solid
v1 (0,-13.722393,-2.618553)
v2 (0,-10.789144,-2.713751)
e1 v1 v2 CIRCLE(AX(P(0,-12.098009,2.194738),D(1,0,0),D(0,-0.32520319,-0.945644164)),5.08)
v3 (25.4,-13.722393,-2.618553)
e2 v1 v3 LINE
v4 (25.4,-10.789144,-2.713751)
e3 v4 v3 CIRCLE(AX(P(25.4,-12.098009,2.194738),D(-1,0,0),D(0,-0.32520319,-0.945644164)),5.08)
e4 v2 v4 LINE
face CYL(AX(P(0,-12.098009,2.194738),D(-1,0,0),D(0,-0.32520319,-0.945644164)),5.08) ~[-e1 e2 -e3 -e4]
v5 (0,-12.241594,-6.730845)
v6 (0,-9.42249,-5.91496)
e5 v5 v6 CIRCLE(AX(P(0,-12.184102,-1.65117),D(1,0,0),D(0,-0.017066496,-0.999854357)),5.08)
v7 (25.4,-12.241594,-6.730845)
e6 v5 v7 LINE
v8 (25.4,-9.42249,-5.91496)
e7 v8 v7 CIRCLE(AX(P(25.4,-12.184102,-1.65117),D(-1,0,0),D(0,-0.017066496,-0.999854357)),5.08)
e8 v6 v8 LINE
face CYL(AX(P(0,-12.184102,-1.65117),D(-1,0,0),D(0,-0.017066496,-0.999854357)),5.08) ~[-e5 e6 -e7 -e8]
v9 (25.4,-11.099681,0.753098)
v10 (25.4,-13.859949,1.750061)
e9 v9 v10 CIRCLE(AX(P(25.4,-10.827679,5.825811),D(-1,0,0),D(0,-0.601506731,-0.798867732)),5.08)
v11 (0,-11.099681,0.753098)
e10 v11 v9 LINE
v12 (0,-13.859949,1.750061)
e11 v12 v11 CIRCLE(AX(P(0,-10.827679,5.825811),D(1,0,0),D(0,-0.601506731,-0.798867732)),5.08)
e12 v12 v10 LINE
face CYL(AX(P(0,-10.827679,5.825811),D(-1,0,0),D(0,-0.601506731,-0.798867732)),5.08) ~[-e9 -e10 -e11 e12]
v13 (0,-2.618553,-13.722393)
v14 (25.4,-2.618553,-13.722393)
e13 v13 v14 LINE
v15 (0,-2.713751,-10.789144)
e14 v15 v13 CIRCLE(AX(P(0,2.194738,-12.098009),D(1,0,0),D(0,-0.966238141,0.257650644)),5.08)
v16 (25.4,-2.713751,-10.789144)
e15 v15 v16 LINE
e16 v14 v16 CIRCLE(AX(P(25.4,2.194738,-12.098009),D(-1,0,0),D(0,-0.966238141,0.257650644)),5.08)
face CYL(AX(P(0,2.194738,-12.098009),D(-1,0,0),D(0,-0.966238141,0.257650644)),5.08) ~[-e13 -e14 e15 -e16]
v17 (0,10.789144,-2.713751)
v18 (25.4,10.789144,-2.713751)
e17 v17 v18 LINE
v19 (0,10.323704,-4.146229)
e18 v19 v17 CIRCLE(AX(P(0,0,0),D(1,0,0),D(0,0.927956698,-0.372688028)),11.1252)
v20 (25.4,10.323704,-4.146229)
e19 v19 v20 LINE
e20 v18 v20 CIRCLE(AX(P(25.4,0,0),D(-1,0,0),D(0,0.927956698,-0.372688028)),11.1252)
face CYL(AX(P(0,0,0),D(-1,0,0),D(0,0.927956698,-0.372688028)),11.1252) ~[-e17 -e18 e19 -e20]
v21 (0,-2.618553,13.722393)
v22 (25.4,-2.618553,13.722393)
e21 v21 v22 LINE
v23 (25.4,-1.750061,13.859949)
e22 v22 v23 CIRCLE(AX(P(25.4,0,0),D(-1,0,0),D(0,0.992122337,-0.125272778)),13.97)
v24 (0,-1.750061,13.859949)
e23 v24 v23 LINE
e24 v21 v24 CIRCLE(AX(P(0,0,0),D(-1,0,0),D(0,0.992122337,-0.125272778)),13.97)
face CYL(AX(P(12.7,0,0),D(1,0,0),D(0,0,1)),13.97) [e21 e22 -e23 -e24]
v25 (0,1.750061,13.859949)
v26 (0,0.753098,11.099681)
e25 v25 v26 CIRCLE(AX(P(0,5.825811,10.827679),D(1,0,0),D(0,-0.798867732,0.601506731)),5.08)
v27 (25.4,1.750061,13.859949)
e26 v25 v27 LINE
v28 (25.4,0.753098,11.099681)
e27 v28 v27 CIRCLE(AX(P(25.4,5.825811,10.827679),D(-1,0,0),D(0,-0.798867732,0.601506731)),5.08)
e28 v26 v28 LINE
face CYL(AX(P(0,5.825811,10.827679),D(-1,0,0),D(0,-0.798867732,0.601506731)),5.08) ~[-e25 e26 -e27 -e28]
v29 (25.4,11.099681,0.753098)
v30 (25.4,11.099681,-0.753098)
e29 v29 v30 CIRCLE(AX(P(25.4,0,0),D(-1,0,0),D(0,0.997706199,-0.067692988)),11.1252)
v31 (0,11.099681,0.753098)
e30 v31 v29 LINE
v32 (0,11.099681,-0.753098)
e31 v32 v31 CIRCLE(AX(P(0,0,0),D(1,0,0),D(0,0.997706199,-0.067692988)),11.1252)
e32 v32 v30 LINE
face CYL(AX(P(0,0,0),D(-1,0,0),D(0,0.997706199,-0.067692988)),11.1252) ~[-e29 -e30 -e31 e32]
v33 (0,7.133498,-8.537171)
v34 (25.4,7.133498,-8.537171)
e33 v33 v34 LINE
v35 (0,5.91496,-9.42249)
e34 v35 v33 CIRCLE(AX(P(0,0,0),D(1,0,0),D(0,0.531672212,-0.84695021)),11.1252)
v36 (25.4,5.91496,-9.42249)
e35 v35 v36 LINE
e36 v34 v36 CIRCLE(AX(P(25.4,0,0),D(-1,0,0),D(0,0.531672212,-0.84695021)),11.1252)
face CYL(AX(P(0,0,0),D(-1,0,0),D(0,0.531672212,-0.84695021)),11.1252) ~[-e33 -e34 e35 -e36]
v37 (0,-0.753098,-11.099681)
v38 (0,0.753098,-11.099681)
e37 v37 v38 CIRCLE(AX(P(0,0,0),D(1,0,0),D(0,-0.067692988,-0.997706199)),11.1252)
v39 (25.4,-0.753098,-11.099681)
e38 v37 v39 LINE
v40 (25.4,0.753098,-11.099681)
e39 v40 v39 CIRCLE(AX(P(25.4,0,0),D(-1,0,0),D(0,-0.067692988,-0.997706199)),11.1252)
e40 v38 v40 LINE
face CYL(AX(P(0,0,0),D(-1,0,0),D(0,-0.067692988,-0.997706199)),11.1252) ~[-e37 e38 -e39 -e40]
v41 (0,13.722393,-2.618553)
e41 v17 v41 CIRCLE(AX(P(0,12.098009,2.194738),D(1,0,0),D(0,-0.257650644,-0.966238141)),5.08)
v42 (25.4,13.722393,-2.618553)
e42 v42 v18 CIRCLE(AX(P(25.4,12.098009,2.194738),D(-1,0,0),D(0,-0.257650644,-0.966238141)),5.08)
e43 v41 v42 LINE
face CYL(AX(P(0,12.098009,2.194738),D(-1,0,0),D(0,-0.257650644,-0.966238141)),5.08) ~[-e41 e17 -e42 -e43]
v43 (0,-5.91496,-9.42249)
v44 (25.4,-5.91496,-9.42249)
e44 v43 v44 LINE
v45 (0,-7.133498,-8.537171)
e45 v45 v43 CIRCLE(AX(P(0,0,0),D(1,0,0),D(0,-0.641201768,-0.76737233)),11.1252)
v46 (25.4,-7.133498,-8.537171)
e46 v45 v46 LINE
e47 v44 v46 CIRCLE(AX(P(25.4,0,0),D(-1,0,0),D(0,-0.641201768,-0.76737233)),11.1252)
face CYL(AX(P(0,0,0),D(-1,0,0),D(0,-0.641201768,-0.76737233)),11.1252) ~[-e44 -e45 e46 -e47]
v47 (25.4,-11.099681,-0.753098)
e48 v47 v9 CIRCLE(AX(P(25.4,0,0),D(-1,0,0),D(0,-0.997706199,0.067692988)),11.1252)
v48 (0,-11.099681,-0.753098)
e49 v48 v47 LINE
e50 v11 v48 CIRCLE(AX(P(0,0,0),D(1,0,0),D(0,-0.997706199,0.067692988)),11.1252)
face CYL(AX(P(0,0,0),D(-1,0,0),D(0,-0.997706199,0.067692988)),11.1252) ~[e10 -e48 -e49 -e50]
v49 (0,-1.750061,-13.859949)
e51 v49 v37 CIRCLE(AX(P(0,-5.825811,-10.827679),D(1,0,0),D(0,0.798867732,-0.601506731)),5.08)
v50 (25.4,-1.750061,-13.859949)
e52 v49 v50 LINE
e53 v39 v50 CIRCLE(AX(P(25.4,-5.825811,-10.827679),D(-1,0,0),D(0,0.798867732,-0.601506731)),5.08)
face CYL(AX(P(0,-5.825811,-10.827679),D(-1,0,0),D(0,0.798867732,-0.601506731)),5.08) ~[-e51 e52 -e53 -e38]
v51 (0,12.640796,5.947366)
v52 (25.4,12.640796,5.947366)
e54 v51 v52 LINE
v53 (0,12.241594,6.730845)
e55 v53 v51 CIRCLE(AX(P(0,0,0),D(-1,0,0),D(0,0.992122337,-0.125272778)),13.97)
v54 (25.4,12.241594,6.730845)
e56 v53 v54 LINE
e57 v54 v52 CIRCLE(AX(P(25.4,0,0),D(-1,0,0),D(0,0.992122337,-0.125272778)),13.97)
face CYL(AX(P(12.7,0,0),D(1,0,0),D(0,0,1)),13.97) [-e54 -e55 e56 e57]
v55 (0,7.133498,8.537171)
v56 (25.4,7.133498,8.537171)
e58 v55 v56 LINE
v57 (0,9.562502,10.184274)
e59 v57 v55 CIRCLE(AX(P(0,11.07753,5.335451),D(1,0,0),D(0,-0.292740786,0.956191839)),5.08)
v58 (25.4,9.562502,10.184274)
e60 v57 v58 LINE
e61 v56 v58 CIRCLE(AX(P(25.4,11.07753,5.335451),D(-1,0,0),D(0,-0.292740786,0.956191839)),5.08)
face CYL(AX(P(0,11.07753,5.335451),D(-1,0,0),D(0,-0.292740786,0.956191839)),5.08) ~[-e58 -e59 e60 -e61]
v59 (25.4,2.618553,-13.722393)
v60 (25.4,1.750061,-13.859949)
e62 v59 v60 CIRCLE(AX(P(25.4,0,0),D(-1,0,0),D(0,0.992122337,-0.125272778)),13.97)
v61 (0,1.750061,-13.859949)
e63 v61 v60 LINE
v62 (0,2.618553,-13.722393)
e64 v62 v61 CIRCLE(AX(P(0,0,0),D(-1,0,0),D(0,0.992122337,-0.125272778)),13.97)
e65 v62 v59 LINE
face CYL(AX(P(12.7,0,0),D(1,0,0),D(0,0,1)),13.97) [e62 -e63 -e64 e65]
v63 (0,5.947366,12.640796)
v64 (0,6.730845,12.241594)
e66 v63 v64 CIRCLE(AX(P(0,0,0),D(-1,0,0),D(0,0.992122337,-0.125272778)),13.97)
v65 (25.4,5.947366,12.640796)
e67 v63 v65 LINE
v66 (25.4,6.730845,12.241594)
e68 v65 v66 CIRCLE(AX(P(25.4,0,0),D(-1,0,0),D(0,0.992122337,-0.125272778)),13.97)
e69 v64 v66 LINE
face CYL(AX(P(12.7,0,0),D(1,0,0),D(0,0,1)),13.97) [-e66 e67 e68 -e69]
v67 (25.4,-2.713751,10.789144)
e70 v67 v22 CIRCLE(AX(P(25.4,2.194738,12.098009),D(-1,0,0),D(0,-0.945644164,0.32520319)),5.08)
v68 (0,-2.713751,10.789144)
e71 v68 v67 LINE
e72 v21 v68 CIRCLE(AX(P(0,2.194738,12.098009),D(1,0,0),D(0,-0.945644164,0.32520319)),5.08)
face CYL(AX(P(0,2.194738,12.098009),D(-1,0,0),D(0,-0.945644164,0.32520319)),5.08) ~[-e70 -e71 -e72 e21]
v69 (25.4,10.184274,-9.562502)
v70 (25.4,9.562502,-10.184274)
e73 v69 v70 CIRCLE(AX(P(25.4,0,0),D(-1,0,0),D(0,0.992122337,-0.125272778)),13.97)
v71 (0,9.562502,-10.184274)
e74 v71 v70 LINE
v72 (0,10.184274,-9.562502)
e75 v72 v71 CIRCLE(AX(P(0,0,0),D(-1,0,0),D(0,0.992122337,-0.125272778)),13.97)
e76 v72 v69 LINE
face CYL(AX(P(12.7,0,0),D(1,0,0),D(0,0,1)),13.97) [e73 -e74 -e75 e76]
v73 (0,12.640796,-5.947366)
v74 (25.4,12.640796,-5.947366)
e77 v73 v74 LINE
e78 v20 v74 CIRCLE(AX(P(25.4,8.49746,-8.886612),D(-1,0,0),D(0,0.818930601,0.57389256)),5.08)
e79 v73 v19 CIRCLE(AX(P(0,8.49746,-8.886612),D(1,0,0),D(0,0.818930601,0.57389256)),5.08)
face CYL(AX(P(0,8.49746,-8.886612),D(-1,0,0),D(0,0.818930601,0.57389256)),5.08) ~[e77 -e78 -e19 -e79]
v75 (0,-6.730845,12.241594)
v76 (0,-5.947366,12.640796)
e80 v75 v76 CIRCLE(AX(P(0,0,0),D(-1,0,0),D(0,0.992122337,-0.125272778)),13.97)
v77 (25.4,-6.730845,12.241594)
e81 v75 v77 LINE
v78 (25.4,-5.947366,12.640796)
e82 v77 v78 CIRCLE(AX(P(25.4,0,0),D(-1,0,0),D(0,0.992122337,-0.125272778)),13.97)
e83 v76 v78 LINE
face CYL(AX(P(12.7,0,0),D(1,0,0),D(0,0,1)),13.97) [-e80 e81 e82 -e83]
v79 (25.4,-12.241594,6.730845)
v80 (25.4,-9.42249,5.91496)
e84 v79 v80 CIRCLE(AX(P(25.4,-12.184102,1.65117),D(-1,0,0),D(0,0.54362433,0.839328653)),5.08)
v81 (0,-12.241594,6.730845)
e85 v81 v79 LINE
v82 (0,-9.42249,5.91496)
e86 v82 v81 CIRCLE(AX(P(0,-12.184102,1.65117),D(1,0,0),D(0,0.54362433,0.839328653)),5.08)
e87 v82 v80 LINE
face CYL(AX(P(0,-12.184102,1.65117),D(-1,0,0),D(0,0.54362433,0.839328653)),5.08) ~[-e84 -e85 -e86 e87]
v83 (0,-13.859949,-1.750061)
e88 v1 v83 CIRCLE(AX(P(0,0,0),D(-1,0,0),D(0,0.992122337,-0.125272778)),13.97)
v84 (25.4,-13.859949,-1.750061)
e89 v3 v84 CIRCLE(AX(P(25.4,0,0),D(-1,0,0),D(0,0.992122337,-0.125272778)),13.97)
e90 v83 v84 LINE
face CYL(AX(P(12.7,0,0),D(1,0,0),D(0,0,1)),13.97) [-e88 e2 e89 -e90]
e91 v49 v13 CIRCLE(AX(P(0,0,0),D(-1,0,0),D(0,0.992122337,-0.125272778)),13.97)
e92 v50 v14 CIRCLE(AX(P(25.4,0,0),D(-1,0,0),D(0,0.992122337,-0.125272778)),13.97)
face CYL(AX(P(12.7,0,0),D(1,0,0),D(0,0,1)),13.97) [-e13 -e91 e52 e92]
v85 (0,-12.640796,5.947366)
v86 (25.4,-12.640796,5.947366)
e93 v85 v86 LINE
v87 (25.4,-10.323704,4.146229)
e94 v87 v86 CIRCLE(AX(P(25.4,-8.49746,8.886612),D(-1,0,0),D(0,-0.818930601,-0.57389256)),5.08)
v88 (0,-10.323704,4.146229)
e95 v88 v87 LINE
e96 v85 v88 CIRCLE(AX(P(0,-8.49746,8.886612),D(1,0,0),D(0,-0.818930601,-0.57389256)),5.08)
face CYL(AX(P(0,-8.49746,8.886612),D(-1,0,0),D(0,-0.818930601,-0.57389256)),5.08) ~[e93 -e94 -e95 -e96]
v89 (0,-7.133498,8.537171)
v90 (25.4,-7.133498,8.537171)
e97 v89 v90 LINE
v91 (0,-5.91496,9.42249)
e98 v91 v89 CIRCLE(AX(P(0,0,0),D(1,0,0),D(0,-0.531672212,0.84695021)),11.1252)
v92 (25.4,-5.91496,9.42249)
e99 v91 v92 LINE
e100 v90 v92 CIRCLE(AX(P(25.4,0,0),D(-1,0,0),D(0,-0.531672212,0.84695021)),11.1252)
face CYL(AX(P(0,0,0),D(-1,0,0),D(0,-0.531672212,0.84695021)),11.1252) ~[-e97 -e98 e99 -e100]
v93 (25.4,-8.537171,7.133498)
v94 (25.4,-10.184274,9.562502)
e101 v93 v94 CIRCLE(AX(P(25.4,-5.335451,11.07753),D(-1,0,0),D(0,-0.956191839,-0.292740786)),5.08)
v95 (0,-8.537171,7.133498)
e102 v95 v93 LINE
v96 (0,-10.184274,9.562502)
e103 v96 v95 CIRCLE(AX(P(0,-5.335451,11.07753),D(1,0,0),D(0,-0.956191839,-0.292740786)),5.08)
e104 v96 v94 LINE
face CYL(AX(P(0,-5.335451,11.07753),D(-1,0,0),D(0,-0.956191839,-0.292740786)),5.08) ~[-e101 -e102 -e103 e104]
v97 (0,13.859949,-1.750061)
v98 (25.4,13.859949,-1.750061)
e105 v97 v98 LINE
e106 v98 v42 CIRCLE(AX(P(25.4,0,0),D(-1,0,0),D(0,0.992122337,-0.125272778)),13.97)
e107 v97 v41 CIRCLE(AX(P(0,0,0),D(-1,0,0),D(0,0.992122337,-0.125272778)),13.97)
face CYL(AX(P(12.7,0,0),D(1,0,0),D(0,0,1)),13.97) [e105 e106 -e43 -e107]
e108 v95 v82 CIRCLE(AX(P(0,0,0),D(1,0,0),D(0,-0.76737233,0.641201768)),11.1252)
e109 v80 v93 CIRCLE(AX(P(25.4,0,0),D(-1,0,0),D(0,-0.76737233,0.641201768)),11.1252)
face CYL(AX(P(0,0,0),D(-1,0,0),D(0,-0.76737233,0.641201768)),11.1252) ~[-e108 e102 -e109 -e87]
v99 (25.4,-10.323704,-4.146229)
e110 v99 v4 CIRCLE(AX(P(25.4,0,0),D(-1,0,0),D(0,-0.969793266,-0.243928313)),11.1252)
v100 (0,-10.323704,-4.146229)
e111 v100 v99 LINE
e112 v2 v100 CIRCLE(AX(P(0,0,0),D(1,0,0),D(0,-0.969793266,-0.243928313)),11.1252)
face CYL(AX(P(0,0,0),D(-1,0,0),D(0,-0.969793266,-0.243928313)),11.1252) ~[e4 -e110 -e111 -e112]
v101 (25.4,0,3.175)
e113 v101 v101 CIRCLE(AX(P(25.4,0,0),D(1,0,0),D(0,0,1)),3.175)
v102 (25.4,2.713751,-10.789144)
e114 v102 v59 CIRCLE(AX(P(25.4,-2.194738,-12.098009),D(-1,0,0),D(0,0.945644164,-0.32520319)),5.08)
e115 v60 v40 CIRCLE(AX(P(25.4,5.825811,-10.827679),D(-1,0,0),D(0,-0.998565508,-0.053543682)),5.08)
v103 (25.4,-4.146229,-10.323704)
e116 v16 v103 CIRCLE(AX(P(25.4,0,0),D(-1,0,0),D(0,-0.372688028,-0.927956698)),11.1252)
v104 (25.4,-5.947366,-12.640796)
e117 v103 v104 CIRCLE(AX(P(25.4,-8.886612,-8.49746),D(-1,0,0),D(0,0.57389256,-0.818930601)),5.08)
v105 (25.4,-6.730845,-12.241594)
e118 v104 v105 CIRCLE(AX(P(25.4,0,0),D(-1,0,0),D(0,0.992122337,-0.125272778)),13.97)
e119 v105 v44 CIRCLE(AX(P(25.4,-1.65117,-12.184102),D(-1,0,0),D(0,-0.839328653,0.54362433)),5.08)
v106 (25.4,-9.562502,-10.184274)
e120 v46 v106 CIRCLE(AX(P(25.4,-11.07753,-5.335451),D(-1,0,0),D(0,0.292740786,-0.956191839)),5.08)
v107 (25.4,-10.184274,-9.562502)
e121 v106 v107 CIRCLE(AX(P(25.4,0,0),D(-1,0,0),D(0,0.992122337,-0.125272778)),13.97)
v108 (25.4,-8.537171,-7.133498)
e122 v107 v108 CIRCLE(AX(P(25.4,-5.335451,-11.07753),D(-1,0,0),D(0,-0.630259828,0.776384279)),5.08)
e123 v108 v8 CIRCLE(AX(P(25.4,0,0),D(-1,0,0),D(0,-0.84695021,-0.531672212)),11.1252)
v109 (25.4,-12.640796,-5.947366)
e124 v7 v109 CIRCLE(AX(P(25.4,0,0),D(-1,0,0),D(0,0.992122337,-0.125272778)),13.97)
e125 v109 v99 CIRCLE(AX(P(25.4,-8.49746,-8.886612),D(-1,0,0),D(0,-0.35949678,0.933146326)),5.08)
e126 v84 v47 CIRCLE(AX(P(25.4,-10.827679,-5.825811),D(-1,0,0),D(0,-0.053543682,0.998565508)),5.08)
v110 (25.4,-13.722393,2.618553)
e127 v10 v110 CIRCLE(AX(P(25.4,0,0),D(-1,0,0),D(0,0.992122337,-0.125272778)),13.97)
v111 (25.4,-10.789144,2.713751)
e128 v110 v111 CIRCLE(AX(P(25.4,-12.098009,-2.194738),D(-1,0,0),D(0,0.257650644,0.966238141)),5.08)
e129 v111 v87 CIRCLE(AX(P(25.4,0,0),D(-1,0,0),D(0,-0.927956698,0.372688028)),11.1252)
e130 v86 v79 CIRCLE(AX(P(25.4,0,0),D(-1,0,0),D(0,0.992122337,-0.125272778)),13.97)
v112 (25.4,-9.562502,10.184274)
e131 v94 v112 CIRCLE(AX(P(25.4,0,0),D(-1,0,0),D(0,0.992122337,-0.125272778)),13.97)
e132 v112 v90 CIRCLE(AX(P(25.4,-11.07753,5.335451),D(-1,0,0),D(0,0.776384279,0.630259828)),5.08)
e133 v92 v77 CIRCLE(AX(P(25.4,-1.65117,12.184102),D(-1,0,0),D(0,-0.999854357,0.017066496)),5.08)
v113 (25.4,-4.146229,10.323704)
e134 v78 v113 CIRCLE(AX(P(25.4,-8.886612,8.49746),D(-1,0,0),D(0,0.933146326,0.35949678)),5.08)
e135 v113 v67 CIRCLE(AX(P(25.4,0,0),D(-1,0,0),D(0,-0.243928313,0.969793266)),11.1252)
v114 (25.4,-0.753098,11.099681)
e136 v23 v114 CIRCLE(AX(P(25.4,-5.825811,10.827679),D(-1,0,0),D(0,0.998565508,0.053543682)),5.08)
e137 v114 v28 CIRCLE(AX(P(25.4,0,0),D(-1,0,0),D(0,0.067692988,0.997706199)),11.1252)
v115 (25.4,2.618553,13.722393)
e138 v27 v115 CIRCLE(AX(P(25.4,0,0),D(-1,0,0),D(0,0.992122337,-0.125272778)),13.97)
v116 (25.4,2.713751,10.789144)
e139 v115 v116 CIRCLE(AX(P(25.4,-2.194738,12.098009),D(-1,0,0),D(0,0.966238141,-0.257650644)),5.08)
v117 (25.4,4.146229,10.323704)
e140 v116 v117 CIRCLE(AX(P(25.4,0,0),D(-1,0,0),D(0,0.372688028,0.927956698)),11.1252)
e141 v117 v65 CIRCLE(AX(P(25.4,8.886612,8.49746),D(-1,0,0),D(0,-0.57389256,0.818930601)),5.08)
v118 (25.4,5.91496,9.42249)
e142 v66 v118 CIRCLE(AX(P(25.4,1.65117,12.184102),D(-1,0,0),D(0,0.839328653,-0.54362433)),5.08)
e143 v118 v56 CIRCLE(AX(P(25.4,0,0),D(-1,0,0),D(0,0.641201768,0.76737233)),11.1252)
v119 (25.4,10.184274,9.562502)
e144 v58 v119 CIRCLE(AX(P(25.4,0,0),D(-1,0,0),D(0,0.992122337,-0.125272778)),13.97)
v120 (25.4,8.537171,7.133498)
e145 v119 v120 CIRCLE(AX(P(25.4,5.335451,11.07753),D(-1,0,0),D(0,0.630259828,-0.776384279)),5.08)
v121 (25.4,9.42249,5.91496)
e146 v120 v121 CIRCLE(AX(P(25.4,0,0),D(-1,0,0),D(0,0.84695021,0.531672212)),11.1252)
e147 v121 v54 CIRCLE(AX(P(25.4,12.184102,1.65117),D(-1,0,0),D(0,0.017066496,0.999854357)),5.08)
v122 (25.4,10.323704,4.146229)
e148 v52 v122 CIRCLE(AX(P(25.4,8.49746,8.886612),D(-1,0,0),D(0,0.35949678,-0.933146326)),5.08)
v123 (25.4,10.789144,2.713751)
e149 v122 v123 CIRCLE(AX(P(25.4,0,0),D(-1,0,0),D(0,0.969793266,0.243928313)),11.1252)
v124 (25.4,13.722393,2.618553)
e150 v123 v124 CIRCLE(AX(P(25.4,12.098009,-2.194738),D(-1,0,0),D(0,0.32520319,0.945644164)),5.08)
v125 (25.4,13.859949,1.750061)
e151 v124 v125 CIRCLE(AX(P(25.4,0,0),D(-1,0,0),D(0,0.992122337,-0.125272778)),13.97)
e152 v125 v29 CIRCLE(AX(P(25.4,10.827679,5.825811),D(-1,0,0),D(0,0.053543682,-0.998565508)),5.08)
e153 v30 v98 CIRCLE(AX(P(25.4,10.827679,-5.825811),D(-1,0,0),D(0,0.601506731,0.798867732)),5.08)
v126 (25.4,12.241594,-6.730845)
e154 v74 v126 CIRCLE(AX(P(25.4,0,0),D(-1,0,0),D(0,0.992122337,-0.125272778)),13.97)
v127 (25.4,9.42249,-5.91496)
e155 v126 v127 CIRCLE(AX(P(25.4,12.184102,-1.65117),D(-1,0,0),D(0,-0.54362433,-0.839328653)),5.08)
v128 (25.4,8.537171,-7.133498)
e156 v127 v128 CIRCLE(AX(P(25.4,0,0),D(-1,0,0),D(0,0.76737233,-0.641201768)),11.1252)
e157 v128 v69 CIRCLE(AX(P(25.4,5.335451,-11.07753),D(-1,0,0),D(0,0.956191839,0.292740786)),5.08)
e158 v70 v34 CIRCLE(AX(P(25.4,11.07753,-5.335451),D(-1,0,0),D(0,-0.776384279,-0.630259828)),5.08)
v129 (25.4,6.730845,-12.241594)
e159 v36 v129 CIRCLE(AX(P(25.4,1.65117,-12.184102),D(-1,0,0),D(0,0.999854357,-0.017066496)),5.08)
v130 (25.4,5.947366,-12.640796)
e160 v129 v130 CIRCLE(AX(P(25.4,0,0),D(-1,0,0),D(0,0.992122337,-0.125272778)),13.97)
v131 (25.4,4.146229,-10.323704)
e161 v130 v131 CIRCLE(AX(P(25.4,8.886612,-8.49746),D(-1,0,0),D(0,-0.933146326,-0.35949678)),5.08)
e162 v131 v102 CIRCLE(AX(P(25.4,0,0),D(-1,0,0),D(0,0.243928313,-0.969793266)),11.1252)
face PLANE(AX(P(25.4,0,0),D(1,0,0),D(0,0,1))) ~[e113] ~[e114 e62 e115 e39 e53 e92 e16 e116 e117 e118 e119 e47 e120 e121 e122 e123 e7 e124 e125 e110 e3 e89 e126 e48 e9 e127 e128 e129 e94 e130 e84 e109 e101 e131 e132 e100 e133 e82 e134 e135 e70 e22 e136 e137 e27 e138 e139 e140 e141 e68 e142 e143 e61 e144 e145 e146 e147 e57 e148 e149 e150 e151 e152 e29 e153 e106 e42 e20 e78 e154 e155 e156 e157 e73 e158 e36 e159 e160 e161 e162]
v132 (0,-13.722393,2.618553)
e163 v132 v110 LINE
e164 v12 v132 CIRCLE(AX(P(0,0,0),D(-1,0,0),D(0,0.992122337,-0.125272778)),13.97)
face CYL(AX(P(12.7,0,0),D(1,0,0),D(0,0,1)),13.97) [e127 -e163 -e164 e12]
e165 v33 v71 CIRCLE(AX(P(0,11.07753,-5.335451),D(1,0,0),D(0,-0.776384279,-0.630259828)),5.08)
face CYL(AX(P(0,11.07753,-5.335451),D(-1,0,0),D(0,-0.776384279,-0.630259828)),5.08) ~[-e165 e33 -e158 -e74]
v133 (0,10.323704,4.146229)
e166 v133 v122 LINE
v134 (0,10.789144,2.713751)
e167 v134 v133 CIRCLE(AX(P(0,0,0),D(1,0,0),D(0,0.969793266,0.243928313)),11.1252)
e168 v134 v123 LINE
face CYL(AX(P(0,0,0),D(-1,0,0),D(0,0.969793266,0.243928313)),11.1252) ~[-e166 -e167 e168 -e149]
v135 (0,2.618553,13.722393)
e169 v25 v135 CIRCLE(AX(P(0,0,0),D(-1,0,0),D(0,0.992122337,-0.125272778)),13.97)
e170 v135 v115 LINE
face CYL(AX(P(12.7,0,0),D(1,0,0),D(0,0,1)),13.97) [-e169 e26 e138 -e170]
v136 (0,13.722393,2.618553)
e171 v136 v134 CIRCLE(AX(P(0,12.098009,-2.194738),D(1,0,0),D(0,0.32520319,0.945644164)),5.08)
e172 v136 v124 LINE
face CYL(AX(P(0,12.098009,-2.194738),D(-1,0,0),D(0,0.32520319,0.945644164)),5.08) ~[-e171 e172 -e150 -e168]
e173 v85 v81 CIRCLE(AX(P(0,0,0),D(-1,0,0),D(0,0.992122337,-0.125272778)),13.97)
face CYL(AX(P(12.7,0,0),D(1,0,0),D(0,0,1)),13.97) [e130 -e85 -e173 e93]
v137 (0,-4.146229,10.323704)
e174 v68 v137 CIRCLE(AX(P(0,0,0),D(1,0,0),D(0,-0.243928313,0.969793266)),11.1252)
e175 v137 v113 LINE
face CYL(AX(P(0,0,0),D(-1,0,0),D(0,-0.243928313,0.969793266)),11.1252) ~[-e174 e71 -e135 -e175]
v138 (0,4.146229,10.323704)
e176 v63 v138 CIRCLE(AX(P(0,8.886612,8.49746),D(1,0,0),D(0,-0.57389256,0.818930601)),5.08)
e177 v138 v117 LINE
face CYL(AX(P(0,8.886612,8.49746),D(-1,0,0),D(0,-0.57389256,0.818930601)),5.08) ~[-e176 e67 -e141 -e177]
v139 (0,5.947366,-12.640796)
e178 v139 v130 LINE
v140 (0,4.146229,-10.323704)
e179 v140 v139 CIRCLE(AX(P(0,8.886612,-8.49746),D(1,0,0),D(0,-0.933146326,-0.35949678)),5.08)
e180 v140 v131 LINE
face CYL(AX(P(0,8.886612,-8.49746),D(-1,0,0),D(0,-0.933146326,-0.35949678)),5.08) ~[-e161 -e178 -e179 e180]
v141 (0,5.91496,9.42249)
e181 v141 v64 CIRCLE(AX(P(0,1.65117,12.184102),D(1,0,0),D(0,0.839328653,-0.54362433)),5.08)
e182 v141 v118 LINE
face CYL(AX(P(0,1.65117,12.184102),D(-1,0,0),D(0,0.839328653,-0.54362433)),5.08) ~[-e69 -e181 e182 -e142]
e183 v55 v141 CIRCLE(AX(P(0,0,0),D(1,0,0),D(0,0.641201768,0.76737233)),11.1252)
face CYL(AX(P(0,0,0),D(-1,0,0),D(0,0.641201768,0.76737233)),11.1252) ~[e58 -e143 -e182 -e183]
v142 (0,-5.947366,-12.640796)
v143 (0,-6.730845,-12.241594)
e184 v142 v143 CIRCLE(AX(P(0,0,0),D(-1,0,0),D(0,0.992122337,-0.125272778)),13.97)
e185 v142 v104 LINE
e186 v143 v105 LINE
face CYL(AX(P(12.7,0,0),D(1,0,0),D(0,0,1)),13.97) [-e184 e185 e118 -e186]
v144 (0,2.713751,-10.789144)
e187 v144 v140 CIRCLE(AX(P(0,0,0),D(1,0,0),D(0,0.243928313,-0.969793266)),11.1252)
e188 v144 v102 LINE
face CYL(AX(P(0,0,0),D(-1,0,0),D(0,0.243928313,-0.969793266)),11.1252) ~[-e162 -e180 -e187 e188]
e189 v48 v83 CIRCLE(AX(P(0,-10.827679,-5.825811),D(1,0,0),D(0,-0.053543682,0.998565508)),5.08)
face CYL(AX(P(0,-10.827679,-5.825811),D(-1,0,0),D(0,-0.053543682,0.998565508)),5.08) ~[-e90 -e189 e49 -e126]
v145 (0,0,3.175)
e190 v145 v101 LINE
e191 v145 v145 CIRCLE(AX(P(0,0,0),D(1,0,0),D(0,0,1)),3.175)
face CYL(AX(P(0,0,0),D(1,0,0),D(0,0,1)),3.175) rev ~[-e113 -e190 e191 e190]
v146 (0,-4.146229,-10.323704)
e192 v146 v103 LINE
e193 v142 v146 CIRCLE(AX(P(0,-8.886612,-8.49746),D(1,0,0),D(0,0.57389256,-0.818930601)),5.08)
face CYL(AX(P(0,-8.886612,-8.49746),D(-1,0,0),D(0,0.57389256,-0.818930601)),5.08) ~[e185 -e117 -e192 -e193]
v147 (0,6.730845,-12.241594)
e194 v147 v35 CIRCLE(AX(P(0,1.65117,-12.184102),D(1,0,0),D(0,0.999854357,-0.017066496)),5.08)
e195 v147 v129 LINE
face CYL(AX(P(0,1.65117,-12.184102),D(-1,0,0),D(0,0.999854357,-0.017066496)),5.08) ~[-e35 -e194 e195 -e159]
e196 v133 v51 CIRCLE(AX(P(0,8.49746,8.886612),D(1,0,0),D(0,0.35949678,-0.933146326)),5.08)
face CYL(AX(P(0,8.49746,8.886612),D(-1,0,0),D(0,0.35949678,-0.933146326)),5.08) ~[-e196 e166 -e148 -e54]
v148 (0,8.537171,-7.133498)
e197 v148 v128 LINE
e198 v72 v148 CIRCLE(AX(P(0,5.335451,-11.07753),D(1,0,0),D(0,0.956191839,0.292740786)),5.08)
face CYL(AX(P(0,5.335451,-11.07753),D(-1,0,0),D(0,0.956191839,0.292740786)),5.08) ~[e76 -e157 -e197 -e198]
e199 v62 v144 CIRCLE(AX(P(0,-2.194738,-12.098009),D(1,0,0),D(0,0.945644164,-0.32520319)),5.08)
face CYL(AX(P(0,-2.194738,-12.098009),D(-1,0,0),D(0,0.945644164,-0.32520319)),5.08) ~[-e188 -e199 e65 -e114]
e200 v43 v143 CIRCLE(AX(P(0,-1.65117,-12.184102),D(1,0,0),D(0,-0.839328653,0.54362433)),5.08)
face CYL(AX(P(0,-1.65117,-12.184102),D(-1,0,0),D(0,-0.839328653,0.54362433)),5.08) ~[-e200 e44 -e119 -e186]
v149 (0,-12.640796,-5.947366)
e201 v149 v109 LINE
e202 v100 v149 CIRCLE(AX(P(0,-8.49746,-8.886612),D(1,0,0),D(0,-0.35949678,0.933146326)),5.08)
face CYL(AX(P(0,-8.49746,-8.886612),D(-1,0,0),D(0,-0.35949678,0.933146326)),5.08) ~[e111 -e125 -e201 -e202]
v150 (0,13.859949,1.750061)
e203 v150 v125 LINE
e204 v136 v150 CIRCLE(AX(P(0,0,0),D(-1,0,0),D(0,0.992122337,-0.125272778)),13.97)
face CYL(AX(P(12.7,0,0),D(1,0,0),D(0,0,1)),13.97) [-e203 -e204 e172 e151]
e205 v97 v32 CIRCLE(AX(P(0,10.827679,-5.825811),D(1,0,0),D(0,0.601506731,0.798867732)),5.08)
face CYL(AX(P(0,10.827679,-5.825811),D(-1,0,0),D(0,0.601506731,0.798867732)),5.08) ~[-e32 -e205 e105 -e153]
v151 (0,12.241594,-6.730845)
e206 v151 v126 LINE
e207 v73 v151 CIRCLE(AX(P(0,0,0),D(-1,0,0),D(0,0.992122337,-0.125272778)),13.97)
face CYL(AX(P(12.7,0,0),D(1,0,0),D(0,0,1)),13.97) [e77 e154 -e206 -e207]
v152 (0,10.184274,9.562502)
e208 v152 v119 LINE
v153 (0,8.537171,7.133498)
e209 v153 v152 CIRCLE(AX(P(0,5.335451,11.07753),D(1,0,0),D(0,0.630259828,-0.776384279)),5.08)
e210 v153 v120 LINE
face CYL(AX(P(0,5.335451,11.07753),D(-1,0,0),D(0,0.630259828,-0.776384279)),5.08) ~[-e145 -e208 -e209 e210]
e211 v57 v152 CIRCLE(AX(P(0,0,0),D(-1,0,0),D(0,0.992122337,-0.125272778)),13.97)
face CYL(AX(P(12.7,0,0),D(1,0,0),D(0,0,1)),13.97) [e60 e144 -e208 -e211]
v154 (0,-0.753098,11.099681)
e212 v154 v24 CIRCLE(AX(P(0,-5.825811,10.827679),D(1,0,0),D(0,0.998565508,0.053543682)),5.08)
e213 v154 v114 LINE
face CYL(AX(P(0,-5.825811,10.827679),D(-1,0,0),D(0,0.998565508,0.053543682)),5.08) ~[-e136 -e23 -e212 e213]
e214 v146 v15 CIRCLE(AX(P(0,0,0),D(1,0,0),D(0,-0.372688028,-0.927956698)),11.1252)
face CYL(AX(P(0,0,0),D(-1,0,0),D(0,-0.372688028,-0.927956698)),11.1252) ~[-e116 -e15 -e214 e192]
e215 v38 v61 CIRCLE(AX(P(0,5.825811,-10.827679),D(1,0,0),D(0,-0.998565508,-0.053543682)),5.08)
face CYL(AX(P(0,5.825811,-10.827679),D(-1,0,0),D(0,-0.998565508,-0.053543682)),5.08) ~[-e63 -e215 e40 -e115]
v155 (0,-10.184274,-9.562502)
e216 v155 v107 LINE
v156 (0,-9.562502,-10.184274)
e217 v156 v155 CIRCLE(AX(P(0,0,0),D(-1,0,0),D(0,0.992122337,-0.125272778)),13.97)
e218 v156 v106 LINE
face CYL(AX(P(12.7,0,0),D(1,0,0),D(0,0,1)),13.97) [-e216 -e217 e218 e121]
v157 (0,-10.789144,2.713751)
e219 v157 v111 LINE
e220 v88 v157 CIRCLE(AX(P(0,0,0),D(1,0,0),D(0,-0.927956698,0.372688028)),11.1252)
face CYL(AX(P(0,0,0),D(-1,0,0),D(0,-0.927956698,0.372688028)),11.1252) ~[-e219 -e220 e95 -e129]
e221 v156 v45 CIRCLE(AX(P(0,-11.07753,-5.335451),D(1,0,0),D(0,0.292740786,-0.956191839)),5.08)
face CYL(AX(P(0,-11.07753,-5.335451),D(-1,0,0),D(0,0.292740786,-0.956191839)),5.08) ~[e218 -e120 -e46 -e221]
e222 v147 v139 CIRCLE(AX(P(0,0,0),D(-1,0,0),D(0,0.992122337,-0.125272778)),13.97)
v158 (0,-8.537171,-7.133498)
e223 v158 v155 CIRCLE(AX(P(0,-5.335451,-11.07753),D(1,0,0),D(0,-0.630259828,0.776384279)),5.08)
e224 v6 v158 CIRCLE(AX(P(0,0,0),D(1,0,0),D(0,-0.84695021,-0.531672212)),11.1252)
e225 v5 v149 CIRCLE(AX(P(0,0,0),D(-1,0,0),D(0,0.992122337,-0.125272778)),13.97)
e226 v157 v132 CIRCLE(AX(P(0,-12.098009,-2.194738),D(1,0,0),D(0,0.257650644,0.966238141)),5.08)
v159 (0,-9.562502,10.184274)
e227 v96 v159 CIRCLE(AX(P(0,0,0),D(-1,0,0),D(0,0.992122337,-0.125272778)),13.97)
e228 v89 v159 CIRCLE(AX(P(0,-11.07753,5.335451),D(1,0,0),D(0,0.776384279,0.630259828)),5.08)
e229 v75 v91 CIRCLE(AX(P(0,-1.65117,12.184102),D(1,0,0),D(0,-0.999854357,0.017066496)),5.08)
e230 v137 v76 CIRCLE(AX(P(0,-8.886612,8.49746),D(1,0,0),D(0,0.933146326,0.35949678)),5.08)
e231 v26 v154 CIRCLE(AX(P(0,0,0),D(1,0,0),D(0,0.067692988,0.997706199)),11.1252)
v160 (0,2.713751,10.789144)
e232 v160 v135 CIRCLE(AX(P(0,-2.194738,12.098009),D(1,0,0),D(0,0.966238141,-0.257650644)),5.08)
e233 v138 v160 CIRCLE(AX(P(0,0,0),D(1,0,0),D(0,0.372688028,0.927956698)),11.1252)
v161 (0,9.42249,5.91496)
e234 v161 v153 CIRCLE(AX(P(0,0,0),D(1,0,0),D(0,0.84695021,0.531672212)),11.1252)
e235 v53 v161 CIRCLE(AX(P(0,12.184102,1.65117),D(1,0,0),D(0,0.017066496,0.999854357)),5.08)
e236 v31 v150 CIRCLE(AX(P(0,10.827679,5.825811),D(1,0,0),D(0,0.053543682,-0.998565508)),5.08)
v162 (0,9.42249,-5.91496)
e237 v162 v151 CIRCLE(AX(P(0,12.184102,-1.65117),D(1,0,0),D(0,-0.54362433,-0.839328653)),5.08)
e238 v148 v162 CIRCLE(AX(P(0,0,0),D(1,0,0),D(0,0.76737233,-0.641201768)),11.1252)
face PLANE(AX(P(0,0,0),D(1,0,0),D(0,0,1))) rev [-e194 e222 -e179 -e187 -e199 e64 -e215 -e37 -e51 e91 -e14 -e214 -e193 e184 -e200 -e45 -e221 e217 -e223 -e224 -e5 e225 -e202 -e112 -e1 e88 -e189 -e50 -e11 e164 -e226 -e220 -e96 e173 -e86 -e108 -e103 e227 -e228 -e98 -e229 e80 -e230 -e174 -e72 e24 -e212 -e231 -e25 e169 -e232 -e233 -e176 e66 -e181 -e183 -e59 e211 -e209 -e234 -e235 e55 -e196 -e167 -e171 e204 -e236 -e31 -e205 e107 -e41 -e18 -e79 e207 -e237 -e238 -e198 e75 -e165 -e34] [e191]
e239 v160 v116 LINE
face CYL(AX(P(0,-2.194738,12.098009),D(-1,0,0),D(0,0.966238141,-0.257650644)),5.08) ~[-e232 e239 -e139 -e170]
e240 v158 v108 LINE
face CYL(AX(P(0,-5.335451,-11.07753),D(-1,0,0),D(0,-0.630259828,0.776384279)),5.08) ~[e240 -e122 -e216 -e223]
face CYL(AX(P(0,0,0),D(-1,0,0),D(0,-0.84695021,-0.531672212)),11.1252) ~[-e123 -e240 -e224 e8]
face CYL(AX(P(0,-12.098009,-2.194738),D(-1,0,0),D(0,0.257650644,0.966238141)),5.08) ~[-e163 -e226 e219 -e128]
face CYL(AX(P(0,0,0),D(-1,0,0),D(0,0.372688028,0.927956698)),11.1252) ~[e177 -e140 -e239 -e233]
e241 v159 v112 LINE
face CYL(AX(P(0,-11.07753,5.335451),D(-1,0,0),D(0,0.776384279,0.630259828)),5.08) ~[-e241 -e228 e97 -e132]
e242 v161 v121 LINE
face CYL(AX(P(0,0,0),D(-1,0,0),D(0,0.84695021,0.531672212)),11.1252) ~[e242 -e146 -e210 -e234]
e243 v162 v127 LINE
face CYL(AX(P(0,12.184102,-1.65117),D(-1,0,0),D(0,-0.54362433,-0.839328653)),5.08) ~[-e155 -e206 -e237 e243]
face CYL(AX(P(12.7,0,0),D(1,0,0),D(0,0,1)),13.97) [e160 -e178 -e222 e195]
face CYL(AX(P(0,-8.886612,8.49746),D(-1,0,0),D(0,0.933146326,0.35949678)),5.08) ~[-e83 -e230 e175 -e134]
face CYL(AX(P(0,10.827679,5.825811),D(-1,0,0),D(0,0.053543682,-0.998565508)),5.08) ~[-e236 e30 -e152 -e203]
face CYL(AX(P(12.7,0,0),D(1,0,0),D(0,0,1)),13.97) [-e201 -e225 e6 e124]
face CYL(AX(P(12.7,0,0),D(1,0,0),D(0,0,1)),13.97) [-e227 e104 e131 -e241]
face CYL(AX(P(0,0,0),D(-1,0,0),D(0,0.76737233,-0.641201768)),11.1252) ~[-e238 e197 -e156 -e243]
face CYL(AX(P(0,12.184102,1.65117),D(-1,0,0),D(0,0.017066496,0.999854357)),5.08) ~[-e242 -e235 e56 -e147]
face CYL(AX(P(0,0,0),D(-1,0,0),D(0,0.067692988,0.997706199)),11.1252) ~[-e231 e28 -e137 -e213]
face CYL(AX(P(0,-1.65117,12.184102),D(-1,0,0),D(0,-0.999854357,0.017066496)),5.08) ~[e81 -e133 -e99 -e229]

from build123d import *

# Parameters (mm, degrees)
BASPROSKE_W     = 25.4
BASPROSKE_H     = 13.97
TOOTHCUT_DEPTH  = 33.178903027
TEETHCUTS_COUNT = 20
TEETHCUTS_ANGLE = 342
BORSKE_R        = 3.175
BORE_DEPTH      = 50.8000508


with BuildPart() as part:
    # BasProSke → Base-Revolve (revolve)
    with BuildSketch(Plane(origin=(0, 0, 0), x_dir=(1, 0, 0), z_dir=(0, 1, 0)), mode=Mode.PRIVATE) as base_revolve_sk:
        with Locations((12.7, 6.985)):
            Rectangle(BASPROSKE_W, BASPROSKE_H)
    revolve(base_revolve_sk.sketch.rotate(Axis((-10, 0, 0), (1, 0, 0)), 180), axis=Axis((-10, 0, 0), (1, 0, 0)))

    # TooCutSke → ToothCut (cut, through all)
    with BuildSketch(Plane(origin=(0, 0, 0), x_dir=(0, 0, -1), z_dir=(1, 0, 0))):
        with BuildLine():
            ThreePointArc((0.753098037, 11.099681004), (0, 11.1252), (-0.753098037, 11.099681004))
            ThreePointArc((-0.753098037, 11.099681004), (-1.052888069, 12.567106713), (-1.767562739, 13.883333286))
            ThreePointArc((-1.767562739, 13.883333286), (0, 13.9954), (1.767562739, 13.883333286))
            ThreePointArc((1.767562739, 13.883333286), (1.052888069, 12.567106713), (0.753098037, 11.099681004))
        make_face()
    toothcut = extrude(amount=TOOTHCUT_DEPTH, mode=Mode.SUBTRACT)

    # TeethCuts: ToothCut ×20 about axis
    teethcuts_axis = Axis((-10, 0, 0), (1, 0, 0))
    for i in range(1, TEETHCUTS_COUNT):
        add(toothcut.rotate(teethcuts_axis, i * TEETHCUTS_ANGLE / (TEETHCUTS_COUNT - 1)), mode=Mode.SUBTRACT)

    # BorSke → Bore (cut, symmetric)
    with BuildSketch(Plane(origin=(0, 0, 0), x_dir=(0, 0, -1), z_dir=(1, 0, 0))):
        with Locations(Location((0, 0, 0), (0, 0, 180))):
            Circle(BORSKE_R)
    extrude(amount=BORE_DEPTH, both=True, mode=Mode.SUBTRACT)


solid = part.part
